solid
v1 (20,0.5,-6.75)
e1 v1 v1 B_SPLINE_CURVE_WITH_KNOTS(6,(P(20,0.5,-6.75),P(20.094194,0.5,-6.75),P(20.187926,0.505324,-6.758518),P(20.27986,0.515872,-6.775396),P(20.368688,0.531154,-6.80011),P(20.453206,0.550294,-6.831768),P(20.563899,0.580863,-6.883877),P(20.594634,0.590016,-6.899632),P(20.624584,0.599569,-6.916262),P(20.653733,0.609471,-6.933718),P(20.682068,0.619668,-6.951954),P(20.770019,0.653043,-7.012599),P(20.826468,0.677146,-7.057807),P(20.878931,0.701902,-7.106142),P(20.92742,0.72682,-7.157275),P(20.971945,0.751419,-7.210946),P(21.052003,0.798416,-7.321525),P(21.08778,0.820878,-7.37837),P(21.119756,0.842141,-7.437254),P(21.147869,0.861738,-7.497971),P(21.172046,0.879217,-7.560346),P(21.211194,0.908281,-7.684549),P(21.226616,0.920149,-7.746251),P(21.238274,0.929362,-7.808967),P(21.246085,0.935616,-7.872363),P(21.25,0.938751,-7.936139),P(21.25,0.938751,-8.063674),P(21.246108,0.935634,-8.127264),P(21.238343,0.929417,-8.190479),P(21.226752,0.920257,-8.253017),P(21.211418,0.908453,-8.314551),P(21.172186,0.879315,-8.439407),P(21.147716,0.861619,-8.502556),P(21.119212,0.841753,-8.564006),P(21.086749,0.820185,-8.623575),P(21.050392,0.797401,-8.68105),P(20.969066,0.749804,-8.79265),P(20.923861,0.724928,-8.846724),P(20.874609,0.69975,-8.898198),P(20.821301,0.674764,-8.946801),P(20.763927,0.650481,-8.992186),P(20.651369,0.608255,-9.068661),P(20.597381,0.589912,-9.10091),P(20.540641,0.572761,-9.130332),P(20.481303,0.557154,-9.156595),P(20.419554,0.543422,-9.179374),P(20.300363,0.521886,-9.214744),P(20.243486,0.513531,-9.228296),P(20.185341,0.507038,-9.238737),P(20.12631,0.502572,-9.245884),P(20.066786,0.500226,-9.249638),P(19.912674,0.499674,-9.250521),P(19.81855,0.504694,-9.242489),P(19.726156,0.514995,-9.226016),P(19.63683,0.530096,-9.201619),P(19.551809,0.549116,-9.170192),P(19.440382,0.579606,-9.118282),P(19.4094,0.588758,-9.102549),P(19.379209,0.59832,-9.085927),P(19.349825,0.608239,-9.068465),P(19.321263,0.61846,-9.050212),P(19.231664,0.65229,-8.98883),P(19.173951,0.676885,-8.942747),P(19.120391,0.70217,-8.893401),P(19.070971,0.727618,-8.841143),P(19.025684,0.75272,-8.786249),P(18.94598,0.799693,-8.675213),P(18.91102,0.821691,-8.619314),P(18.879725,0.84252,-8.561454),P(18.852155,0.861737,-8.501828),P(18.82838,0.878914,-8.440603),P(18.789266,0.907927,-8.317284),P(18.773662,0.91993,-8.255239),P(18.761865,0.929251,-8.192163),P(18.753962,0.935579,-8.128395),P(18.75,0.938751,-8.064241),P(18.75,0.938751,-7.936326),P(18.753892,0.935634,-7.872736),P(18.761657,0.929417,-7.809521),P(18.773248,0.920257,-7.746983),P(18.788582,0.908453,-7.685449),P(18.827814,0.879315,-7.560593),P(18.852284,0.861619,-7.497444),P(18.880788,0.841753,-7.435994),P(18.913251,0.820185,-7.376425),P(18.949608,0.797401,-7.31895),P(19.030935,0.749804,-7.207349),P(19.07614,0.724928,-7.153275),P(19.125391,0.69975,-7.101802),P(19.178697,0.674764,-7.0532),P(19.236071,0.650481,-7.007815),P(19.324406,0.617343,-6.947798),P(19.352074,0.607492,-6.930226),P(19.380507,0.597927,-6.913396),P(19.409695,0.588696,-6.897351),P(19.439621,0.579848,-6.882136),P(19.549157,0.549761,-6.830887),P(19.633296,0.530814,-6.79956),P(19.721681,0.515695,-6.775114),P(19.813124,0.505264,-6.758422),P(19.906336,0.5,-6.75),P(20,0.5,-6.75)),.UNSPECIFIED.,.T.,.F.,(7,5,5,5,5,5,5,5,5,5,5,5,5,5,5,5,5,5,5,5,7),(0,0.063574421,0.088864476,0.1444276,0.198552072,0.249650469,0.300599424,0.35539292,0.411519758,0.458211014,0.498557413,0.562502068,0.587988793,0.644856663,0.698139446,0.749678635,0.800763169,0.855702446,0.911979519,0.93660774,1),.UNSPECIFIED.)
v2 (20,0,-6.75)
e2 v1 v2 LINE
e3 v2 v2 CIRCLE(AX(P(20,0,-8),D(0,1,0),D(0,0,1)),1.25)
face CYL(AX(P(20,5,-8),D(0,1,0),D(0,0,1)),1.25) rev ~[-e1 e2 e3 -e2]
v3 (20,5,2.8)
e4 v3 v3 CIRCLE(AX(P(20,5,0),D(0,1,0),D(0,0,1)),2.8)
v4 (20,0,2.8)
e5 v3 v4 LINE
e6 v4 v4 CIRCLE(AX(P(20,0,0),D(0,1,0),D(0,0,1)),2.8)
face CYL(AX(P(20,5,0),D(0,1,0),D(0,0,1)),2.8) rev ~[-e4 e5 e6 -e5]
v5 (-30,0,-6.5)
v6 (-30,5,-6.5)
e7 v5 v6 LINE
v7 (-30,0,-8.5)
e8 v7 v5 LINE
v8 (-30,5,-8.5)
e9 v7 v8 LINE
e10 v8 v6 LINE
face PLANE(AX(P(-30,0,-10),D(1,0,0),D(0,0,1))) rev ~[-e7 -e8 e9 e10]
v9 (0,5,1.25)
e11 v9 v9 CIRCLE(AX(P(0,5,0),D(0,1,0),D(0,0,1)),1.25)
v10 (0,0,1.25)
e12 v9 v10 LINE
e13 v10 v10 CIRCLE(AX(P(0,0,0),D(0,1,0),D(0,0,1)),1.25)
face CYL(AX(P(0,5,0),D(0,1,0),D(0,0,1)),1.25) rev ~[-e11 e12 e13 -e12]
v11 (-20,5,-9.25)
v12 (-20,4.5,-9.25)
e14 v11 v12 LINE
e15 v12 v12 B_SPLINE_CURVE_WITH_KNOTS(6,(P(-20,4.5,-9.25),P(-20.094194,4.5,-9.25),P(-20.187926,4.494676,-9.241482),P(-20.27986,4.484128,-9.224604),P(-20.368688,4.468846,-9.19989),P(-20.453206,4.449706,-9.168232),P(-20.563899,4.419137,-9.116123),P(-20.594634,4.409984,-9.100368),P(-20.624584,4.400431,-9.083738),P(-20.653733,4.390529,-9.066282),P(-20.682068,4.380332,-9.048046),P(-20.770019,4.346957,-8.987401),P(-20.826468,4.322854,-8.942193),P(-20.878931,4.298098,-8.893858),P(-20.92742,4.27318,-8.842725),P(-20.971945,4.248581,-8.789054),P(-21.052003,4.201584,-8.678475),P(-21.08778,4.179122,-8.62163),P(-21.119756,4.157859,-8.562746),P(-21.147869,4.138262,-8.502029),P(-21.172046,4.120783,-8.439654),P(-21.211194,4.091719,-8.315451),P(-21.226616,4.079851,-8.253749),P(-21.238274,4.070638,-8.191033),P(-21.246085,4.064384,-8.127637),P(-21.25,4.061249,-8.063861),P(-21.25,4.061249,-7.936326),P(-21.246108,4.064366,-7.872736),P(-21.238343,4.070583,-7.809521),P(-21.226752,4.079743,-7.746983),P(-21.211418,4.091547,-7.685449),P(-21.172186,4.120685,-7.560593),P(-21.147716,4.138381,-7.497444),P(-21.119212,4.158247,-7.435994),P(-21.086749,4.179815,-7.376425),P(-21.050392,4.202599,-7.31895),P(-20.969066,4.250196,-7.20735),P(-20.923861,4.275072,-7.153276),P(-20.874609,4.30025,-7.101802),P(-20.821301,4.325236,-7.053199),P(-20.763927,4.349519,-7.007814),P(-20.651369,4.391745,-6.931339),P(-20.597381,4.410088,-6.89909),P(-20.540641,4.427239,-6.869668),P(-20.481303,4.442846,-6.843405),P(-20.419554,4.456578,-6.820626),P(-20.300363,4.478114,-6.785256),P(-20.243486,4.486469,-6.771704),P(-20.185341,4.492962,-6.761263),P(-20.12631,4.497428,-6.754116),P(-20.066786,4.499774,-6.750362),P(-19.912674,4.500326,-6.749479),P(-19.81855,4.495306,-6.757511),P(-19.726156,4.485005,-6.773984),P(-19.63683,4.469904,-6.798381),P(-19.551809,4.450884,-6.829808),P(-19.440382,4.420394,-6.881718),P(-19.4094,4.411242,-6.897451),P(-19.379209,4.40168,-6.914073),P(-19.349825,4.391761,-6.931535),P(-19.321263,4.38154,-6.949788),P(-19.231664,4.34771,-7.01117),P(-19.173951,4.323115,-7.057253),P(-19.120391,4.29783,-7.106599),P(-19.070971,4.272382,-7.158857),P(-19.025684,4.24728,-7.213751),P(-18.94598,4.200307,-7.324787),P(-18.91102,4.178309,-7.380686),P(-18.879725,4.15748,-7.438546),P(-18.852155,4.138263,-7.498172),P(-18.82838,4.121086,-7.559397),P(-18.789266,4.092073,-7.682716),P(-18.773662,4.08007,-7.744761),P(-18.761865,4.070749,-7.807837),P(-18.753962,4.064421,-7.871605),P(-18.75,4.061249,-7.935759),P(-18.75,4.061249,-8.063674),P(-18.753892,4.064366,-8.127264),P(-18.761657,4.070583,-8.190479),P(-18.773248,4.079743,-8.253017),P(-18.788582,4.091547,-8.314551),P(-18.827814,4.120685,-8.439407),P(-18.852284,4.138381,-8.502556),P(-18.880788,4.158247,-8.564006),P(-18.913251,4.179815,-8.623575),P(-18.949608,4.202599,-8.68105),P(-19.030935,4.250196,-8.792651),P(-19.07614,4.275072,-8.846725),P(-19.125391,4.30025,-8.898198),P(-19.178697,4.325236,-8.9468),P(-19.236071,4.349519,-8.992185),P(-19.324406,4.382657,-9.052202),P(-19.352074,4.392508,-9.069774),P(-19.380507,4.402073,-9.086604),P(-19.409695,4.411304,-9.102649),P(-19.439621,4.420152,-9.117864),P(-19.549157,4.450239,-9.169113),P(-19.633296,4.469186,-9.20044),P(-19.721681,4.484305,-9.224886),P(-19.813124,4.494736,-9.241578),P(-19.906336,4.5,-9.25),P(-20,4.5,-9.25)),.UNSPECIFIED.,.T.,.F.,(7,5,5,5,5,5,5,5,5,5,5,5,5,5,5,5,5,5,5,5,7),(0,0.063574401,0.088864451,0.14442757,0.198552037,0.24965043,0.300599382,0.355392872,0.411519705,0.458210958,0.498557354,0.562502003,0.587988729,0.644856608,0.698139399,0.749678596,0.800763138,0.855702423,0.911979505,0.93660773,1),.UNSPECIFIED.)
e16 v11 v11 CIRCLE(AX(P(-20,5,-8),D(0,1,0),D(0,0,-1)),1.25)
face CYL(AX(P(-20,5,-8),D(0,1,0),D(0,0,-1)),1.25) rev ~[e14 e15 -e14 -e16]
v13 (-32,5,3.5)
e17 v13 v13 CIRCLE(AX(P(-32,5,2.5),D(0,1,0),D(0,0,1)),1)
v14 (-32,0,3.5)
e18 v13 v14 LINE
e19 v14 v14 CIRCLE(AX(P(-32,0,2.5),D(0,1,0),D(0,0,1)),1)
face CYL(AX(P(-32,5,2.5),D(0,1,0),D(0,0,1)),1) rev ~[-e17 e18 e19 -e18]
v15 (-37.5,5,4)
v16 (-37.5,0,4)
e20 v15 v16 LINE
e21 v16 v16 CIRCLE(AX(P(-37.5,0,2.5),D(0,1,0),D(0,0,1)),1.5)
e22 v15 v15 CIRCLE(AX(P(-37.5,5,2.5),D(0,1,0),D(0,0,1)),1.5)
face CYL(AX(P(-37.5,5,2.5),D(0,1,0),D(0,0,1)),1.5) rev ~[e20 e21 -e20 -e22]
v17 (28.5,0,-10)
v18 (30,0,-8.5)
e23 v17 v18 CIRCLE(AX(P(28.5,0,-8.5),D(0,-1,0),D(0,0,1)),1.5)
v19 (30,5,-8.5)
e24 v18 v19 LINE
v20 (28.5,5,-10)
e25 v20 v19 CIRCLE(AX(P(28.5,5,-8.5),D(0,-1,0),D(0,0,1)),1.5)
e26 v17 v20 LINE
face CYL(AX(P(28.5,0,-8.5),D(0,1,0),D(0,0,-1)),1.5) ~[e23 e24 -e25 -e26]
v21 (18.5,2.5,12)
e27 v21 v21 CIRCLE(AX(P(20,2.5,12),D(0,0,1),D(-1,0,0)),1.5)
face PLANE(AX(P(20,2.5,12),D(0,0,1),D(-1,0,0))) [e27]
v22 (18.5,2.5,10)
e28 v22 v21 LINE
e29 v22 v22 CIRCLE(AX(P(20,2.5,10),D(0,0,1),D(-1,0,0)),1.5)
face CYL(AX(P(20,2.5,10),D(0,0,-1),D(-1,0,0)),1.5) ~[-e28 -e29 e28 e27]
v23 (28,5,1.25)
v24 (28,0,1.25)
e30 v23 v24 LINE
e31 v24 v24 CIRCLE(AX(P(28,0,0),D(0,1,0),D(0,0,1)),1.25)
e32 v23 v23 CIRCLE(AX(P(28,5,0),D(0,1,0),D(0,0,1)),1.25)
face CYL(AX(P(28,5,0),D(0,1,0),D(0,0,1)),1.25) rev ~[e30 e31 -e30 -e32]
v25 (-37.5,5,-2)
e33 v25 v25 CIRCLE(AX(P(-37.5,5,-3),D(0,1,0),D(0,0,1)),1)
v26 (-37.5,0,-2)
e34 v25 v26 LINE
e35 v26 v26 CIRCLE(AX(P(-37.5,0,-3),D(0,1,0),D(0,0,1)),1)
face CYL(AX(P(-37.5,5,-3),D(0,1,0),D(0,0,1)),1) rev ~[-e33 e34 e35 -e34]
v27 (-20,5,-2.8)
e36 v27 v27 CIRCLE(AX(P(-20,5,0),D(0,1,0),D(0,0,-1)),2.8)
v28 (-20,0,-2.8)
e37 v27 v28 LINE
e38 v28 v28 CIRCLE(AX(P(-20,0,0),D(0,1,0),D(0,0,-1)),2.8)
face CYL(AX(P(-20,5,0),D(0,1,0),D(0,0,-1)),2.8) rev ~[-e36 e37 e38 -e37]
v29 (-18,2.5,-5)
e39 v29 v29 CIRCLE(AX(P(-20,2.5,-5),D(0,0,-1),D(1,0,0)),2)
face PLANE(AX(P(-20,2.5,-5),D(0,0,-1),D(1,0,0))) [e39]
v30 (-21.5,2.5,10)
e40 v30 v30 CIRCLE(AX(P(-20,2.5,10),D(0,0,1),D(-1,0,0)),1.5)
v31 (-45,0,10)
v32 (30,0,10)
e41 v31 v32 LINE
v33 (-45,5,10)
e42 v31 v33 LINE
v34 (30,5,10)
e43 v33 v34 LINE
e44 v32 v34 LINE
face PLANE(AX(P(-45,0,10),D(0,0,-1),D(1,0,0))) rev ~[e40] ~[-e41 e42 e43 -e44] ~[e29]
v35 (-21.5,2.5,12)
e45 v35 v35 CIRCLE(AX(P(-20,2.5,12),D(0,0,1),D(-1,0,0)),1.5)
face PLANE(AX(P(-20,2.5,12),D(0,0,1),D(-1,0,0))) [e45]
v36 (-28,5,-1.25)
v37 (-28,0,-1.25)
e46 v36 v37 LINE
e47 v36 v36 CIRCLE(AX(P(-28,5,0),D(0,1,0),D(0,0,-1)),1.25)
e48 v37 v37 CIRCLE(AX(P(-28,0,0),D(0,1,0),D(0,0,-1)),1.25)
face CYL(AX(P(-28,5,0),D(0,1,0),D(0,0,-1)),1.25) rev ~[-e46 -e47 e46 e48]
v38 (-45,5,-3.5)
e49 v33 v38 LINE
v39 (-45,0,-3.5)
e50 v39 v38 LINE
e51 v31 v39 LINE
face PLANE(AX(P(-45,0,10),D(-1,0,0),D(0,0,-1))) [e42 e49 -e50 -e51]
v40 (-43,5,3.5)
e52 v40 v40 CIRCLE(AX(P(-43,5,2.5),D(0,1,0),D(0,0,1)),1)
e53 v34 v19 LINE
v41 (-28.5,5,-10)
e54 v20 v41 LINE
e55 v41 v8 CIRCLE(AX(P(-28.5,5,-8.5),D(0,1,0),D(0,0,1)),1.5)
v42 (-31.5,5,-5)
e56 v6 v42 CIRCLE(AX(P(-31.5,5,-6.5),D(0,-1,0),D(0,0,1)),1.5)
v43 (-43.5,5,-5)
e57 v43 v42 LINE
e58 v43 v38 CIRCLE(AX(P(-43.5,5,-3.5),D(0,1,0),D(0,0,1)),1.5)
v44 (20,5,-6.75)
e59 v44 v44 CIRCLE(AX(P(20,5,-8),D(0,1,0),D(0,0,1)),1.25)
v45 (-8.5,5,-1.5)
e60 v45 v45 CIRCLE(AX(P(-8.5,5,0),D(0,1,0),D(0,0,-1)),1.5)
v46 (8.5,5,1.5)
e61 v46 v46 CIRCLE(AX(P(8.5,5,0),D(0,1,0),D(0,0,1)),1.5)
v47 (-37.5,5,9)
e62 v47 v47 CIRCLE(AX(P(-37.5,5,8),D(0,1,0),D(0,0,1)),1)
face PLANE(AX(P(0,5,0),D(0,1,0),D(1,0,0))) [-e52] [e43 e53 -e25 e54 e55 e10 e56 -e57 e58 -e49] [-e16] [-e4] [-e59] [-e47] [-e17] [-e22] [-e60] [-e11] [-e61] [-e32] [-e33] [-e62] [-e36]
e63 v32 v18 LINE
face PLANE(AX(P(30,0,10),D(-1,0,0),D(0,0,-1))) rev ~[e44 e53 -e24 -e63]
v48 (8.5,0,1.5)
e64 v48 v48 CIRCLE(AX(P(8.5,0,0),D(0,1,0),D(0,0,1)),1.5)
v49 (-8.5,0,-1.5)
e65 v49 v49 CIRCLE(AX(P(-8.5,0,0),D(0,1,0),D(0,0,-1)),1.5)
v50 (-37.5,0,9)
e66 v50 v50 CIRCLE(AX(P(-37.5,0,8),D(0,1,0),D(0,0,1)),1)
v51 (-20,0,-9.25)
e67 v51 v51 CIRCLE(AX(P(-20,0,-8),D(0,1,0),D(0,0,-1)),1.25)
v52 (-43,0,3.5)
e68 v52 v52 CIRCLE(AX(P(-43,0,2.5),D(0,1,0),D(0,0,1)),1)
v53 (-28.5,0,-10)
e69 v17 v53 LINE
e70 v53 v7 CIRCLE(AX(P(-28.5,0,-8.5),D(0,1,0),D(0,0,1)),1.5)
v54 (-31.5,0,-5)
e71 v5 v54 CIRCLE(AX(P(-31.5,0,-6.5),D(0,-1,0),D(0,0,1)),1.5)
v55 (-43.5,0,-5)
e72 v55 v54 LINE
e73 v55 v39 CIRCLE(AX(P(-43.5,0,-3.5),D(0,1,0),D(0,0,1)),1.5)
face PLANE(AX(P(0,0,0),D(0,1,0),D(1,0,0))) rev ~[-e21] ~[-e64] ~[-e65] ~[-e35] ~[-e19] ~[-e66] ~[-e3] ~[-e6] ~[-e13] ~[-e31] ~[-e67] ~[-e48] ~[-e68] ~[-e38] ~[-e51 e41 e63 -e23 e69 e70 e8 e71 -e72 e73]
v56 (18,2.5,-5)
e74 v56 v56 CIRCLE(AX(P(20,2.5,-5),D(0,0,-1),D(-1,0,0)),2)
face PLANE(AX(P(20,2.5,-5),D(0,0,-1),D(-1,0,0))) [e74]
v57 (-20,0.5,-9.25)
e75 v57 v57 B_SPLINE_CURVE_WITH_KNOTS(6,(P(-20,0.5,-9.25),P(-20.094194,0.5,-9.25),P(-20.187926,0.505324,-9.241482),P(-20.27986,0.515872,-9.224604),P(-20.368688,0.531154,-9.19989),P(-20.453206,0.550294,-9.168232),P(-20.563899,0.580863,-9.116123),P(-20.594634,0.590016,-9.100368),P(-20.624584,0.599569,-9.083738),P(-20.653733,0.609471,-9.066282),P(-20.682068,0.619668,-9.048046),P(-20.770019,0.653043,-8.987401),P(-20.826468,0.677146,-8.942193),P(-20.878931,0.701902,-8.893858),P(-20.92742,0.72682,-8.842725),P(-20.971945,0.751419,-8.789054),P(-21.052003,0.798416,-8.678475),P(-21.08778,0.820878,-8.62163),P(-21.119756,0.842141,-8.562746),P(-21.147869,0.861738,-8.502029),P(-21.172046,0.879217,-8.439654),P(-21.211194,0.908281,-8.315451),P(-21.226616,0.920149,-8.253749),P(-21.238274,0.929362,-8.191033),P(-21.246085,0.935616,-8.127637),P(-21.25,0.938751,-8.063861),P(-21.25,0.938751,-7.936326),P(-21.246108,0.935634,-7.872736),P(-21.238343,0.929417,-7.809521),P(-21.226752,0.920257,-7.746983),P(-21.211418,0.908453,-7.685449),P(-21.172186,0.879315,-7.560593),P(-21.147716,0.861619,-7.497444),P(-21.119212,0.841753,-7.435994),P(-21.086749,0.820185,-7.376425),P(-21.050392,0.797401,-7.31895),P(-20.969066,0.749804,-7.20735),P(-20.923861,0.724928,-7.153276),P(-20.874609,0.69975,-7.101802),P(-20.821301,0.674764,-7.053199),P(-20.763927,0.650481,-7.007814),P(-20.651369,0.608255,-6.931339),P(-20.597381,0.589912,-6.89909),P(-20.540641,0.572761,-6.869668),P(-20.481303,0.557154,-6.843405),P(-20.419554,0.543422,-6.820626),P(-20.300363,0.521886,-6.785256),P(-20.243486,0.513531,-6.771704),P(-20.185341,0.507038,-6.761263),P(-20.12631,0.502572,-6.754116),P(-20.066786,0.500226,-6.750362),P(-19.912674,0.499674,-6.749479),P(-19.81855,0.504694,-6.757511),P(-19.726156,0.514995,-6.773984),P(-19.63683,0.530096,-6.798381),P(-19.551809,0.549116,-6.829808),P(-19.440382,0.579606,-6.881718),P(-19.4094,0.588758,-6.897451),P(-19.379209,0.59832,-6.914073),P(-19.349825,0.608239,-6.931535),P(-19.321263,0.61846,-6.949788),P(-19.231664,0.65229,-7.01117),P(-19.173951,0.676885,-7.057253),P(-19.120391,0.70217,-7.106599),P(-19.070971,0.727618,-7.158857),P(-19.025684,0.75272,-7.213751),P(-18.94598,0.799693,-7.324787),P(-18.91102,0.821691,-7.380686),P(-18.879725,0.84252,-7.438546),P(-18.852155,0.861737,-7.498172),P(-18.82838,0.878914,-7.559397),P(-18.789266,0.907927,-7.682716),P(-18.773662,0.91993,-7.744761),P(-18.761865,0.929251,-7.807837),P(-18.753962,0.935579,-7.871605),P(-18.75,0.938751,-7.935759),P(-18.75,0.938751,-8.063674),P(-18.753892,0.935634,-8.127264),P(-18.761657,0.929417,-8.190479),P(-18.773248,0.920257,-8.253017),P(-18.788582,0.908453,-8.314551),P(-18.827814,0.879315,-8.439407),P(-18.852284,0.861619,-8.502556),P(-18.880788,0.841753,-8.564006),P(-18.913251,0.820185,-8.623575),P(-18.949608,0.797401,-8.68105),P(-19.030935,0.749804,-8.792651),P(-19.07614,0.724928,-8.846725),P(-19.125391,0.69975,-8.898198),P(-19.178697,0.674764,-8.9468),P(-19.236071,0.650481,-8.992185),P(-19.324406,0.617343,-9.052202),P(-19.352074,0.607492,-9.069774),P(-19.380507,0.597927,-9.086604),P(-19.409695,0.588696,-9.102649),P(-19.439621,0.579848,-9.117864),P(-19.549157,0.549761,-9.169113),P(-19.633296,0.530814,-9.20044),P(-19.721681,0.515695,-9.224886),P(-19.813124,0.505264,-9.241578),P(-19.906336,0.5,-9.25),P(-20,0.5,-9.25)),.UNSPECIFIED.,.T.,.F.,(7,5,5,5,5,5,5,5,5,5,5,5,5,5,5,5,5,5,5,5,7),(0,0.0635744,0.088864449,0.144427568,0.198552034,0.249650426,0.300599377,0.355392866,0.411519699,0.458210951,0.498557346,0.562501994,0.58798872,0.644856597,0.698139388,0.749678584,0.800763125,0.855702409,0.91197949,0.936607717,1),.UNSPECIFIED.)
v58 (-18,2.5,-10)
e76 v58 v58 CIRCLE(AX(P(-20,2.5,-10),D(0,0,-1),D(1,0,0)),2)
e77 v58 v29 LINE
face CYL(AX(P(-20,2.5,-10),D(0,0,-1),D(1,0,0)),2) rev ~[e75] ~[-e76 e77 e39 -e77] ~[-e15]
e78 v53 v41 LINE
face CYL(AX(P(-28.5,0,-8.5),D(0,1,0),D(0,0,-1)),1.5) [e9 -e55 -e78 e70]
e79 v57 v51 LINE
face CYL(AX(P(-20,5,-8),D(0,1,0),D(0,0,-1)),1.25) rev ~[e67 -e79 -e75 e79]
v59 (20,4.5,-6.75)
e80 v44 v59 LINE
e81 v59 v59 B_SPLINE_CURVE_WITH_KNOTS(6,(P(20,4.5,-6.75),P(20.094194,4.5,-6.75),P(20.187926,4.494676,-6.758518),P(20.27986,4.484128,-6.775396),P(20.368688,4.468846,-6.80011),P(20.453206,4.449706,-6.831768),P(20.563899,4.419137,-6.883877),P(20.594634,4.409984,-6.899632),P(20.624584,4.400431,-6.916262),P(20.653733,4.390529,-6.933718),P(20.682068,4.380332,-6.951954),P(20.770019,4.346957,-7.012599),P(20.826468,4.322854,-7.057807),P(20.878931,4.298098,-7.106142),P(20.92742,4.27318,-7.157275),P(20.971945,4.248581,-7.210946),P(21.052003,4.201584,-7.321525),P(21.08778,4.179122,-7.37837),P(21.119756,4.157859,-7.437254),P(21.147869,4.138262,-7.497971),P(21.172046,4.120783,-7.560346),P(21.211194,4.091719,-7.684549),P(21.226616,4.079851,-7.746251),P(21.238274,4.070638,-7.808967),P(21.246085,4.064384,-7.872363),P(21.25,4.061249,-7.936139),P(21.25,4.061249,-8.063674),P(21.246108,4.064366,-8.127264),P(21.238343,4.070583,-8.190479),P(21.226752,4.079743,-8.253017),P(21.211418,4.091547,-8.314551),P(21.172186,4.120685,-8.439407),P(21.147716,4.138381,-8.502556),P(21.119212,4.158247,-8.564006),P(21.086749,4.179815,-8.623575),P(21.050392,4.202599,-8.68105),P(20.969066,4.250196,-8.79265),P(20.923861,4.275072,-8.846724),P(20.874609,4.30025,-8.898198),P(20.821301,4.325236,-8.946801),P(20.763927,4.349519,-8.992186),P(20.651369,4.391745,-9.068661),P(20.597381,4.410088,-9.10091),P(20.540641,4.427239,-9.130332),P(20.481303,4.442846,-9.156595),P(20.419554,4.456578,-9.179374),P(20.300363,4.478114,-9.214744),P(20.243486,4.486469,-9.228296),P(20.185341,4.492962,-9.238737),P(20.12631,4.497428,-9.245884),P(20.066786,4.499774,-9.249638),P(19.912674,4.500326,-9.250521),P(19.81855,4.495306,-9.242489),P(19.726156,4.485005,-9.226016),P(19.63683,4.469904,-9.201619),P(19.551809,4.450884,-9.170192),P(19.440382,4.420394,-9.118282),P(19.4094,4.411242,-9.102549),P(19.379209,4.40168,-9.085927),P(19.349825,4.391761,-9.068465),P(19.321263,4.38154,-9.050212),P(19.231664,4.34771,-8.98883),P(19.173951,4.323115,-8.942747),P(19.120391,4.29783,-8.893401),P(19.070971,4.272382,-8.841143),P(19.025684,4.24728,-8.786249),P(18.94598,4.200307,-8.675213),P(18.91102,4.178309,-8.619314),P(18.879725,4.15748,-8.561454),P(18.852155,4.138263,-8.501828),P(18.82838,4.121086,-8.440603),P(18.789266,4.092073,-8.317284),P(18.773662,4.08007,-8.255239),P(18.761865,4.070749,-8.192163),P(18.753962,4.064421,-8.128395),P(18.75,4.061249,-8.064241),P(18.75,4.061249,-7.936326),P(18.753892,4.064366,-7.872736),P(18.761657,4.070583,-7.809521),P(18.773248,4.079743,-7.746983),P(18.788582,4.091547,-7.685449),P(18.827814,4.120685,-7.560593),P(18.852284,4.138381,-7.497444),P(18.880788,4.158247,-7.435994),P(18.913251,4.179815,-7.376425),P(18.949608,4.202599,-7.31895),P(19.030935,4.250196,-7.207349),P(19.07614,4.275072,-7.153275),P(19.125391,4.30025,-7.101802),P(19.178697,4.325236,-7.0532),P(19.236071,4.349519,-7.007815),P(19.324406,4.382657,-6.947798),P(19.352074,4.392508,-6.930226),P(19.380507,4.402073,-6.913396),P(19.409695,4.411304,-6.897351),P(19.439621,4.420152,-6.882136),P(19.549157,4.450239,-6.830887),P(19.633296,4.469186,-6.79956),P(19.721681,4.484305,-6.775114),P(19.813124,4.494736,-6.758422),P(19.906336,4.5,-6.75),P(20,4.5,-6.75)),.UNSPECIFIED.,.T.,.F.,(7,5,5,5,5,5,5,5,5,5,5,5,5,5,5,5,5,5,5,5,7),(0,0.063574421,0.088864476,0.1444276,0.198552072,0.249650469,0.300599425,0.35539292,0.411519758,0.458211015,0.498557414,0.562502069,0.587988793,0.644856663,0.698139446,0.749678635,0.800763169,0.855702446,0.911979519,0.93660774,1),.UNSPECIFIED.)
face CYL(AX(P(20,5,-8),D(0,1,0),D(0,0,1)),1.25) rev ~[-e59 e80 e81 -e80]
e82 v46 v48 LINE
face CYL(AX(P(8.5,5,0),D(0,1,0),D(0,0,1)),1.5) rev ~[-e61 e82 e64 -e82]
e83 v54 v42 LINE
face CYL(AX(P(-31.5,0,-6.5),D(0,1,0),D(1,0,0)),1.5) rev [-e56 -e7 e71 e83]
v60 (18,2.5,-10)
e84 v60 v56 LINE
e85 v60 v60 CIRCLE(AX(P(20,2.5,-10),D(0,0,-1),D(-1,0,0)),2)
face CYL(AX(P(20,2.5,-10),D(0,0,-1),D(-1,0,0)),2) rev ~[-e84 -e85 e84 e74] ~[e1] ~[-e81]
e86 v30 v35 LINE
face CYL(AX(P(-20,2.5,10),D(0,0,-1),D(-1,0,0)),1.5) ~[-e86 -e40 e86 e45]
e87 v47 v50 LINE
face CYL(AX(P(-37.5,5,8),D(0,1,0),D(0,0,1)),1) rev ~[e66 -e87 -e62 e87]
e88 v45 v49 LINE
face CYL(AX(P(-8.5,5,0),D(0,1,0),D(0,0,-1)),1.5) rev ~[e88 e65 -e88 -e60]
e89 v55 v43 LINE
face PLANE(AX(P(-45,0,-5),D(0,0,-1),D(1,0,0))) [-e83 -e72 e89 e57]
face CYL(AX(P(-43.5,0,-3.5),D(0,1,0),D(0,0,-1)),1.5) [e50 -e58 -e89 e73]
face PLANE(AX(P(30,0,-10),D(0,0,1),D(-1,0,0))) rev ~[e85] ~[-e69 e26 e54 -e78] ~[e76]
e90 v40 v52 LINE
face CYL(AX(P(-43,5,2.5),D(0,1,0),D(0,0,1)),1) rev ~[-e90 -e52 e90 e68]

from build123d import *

# Parameters (mm, degrees)
SKETCH_1_W          = 15
SKETCH_1_H          = 15
EXTRUDE_1_DEPTH     = 5
SKETCH_2_R          = 1.5
SKETCH_2_R_2        = 1.25
SKETCH_2_R_3        = 2.8
SKETCH_2_R_4        = 1
CUT_EXTRUDE_1_DEPTH = 5
FILLET_1_R          = 1.5
SKETCH_4_R          = 1.5
EXTRUDE_2_DEPTH     = 2
SKETCH_5_R          = 2
CUT_EXTRUDE_2_DEPTH = 5


with BuildPart() as part:
    # 草图1 → 凸台-拉伸1 (new body)
    with BuildSketch(Plane(origin=(0, 0, 0), x_dir=(1, 0, 0), z_dir=(0, 1, 0))):
        Polygon((30, 10), (-30, 10), (-30, 5), (-30, -10), (30, -10), align=None)
        with Locations((-37.5, -2.5)):
            Rectangle(SKETCH_1_W, SKETCH_1_H)
    extrude(amount=EXTRUDE_1_DEPTH)

    # 草图2 → 切除-拉伸1 (cut)
    with BuildSketch(Plane(origin=(0, 5, 0), x_dir=(1, 0, 0), z_dir=(0, 1, 0))):
        with Locations(Location((8.5, 0, 0), (0, 0, 270))):
            Circle(SKETCH_2_R)
        with Locations(Location((-8.5, 0, 0), (0, 0, 90))):
            Circle(SKETCH_2_R)
        with Locations(Location((0, 0, 0), (0, 0, 270))):
            Circle(SKETCH_2_R_2)
        with Locations(Location((20, 0, 0), (0, 0, 270))):
            Circle(SKETCH_2_R_3)
        with Locations(Location((-20, 0, 0), (0, 0, 90))):
            Circle(SKETCH_2_R_3)
        with Locations(Location((20, 8, 0), (0, 0, 270))):
            Circle(SKETCH_2_R_2)
        with Locations(Location((28, 0, 0), (0, 0, 270))):
            Circle(SKETCH_2_R_2)
        with Locations(Location((-28, 0, 0), (0, 0, 90))):
            Circle(SKETCH_2_R_2)
        with Locations(Location((-20, 8, 0), (0, 0, 90))):
            Circle(SKETCH_2_R_2)
        with Locations(Location((-37.5, -2.5, 0), (0, 0, 270))):
            Circle(SKETCH_2_R)
        with Locations(Location((-32, -2.5, 0), (0, 0, 270))):
            Circle(SKETCH_2_R_4)
        with Locations(Location((-37.5, -8, 0), (0, 0, 270))):
            Circle(SKETCH_2_R_4)
        with Locations(Location((-43, -2.5, 0), (0, 0, 270))):
            Circle(SKETCH_2_R_4)
        with Locations(Location((-37.5, 3, 0), (0, 0, 270))):
            Circle(SKETCH_2_R_4)
    extrude(amount=-CUT_EXTRUDE_1_DEPTH, mode=Mode.SUBTRACT)

    # 圆角1
    fillet_1_edges = [part.edges().sort_by_distance(p)[0] for p in [
        (-30, 2.5, -5),
        (-45, 2.5, -5),
        (-30, 2.5, -10),
        (30, 2.5, -10),
    ]]
    fillet(fillet_1_edges, radius=FILLET_1_R)

    # 草图4 → 凸台-拉伸2 (add)
    with BuildSketch(Plane.XY.offset(10)):
        with Locations(Location((20, 2.5, 0), (0, 0, 180))):
            Circle(SKETCH_4_R)
        with Locations(Location((-20, 2.5, 0), (0, 0, 180))):
            Circle(SKETCH_4_R)
    extrude(amount=EXTRUDE_2_DEPTH)

    # 草图5 → 切除-拉伸2 (cut)
    with BuildSketch(Plane(origin=(0, 0, -10), x_dir=(-1, 0, 0), z_dir=(0, 0, -1))):
        with Locations((-20, 2.5)):
            Circle(SKETCH_5_R)
        with Locations(Location((20, 2.5, 0), (0, 0, 180))):
            Circle(SKETCH_5_R)
    extrude(amount=-CUT_EXTRUDE_2_DEPTH, mode=Mode.SUBTRACT)


solid = part.part
